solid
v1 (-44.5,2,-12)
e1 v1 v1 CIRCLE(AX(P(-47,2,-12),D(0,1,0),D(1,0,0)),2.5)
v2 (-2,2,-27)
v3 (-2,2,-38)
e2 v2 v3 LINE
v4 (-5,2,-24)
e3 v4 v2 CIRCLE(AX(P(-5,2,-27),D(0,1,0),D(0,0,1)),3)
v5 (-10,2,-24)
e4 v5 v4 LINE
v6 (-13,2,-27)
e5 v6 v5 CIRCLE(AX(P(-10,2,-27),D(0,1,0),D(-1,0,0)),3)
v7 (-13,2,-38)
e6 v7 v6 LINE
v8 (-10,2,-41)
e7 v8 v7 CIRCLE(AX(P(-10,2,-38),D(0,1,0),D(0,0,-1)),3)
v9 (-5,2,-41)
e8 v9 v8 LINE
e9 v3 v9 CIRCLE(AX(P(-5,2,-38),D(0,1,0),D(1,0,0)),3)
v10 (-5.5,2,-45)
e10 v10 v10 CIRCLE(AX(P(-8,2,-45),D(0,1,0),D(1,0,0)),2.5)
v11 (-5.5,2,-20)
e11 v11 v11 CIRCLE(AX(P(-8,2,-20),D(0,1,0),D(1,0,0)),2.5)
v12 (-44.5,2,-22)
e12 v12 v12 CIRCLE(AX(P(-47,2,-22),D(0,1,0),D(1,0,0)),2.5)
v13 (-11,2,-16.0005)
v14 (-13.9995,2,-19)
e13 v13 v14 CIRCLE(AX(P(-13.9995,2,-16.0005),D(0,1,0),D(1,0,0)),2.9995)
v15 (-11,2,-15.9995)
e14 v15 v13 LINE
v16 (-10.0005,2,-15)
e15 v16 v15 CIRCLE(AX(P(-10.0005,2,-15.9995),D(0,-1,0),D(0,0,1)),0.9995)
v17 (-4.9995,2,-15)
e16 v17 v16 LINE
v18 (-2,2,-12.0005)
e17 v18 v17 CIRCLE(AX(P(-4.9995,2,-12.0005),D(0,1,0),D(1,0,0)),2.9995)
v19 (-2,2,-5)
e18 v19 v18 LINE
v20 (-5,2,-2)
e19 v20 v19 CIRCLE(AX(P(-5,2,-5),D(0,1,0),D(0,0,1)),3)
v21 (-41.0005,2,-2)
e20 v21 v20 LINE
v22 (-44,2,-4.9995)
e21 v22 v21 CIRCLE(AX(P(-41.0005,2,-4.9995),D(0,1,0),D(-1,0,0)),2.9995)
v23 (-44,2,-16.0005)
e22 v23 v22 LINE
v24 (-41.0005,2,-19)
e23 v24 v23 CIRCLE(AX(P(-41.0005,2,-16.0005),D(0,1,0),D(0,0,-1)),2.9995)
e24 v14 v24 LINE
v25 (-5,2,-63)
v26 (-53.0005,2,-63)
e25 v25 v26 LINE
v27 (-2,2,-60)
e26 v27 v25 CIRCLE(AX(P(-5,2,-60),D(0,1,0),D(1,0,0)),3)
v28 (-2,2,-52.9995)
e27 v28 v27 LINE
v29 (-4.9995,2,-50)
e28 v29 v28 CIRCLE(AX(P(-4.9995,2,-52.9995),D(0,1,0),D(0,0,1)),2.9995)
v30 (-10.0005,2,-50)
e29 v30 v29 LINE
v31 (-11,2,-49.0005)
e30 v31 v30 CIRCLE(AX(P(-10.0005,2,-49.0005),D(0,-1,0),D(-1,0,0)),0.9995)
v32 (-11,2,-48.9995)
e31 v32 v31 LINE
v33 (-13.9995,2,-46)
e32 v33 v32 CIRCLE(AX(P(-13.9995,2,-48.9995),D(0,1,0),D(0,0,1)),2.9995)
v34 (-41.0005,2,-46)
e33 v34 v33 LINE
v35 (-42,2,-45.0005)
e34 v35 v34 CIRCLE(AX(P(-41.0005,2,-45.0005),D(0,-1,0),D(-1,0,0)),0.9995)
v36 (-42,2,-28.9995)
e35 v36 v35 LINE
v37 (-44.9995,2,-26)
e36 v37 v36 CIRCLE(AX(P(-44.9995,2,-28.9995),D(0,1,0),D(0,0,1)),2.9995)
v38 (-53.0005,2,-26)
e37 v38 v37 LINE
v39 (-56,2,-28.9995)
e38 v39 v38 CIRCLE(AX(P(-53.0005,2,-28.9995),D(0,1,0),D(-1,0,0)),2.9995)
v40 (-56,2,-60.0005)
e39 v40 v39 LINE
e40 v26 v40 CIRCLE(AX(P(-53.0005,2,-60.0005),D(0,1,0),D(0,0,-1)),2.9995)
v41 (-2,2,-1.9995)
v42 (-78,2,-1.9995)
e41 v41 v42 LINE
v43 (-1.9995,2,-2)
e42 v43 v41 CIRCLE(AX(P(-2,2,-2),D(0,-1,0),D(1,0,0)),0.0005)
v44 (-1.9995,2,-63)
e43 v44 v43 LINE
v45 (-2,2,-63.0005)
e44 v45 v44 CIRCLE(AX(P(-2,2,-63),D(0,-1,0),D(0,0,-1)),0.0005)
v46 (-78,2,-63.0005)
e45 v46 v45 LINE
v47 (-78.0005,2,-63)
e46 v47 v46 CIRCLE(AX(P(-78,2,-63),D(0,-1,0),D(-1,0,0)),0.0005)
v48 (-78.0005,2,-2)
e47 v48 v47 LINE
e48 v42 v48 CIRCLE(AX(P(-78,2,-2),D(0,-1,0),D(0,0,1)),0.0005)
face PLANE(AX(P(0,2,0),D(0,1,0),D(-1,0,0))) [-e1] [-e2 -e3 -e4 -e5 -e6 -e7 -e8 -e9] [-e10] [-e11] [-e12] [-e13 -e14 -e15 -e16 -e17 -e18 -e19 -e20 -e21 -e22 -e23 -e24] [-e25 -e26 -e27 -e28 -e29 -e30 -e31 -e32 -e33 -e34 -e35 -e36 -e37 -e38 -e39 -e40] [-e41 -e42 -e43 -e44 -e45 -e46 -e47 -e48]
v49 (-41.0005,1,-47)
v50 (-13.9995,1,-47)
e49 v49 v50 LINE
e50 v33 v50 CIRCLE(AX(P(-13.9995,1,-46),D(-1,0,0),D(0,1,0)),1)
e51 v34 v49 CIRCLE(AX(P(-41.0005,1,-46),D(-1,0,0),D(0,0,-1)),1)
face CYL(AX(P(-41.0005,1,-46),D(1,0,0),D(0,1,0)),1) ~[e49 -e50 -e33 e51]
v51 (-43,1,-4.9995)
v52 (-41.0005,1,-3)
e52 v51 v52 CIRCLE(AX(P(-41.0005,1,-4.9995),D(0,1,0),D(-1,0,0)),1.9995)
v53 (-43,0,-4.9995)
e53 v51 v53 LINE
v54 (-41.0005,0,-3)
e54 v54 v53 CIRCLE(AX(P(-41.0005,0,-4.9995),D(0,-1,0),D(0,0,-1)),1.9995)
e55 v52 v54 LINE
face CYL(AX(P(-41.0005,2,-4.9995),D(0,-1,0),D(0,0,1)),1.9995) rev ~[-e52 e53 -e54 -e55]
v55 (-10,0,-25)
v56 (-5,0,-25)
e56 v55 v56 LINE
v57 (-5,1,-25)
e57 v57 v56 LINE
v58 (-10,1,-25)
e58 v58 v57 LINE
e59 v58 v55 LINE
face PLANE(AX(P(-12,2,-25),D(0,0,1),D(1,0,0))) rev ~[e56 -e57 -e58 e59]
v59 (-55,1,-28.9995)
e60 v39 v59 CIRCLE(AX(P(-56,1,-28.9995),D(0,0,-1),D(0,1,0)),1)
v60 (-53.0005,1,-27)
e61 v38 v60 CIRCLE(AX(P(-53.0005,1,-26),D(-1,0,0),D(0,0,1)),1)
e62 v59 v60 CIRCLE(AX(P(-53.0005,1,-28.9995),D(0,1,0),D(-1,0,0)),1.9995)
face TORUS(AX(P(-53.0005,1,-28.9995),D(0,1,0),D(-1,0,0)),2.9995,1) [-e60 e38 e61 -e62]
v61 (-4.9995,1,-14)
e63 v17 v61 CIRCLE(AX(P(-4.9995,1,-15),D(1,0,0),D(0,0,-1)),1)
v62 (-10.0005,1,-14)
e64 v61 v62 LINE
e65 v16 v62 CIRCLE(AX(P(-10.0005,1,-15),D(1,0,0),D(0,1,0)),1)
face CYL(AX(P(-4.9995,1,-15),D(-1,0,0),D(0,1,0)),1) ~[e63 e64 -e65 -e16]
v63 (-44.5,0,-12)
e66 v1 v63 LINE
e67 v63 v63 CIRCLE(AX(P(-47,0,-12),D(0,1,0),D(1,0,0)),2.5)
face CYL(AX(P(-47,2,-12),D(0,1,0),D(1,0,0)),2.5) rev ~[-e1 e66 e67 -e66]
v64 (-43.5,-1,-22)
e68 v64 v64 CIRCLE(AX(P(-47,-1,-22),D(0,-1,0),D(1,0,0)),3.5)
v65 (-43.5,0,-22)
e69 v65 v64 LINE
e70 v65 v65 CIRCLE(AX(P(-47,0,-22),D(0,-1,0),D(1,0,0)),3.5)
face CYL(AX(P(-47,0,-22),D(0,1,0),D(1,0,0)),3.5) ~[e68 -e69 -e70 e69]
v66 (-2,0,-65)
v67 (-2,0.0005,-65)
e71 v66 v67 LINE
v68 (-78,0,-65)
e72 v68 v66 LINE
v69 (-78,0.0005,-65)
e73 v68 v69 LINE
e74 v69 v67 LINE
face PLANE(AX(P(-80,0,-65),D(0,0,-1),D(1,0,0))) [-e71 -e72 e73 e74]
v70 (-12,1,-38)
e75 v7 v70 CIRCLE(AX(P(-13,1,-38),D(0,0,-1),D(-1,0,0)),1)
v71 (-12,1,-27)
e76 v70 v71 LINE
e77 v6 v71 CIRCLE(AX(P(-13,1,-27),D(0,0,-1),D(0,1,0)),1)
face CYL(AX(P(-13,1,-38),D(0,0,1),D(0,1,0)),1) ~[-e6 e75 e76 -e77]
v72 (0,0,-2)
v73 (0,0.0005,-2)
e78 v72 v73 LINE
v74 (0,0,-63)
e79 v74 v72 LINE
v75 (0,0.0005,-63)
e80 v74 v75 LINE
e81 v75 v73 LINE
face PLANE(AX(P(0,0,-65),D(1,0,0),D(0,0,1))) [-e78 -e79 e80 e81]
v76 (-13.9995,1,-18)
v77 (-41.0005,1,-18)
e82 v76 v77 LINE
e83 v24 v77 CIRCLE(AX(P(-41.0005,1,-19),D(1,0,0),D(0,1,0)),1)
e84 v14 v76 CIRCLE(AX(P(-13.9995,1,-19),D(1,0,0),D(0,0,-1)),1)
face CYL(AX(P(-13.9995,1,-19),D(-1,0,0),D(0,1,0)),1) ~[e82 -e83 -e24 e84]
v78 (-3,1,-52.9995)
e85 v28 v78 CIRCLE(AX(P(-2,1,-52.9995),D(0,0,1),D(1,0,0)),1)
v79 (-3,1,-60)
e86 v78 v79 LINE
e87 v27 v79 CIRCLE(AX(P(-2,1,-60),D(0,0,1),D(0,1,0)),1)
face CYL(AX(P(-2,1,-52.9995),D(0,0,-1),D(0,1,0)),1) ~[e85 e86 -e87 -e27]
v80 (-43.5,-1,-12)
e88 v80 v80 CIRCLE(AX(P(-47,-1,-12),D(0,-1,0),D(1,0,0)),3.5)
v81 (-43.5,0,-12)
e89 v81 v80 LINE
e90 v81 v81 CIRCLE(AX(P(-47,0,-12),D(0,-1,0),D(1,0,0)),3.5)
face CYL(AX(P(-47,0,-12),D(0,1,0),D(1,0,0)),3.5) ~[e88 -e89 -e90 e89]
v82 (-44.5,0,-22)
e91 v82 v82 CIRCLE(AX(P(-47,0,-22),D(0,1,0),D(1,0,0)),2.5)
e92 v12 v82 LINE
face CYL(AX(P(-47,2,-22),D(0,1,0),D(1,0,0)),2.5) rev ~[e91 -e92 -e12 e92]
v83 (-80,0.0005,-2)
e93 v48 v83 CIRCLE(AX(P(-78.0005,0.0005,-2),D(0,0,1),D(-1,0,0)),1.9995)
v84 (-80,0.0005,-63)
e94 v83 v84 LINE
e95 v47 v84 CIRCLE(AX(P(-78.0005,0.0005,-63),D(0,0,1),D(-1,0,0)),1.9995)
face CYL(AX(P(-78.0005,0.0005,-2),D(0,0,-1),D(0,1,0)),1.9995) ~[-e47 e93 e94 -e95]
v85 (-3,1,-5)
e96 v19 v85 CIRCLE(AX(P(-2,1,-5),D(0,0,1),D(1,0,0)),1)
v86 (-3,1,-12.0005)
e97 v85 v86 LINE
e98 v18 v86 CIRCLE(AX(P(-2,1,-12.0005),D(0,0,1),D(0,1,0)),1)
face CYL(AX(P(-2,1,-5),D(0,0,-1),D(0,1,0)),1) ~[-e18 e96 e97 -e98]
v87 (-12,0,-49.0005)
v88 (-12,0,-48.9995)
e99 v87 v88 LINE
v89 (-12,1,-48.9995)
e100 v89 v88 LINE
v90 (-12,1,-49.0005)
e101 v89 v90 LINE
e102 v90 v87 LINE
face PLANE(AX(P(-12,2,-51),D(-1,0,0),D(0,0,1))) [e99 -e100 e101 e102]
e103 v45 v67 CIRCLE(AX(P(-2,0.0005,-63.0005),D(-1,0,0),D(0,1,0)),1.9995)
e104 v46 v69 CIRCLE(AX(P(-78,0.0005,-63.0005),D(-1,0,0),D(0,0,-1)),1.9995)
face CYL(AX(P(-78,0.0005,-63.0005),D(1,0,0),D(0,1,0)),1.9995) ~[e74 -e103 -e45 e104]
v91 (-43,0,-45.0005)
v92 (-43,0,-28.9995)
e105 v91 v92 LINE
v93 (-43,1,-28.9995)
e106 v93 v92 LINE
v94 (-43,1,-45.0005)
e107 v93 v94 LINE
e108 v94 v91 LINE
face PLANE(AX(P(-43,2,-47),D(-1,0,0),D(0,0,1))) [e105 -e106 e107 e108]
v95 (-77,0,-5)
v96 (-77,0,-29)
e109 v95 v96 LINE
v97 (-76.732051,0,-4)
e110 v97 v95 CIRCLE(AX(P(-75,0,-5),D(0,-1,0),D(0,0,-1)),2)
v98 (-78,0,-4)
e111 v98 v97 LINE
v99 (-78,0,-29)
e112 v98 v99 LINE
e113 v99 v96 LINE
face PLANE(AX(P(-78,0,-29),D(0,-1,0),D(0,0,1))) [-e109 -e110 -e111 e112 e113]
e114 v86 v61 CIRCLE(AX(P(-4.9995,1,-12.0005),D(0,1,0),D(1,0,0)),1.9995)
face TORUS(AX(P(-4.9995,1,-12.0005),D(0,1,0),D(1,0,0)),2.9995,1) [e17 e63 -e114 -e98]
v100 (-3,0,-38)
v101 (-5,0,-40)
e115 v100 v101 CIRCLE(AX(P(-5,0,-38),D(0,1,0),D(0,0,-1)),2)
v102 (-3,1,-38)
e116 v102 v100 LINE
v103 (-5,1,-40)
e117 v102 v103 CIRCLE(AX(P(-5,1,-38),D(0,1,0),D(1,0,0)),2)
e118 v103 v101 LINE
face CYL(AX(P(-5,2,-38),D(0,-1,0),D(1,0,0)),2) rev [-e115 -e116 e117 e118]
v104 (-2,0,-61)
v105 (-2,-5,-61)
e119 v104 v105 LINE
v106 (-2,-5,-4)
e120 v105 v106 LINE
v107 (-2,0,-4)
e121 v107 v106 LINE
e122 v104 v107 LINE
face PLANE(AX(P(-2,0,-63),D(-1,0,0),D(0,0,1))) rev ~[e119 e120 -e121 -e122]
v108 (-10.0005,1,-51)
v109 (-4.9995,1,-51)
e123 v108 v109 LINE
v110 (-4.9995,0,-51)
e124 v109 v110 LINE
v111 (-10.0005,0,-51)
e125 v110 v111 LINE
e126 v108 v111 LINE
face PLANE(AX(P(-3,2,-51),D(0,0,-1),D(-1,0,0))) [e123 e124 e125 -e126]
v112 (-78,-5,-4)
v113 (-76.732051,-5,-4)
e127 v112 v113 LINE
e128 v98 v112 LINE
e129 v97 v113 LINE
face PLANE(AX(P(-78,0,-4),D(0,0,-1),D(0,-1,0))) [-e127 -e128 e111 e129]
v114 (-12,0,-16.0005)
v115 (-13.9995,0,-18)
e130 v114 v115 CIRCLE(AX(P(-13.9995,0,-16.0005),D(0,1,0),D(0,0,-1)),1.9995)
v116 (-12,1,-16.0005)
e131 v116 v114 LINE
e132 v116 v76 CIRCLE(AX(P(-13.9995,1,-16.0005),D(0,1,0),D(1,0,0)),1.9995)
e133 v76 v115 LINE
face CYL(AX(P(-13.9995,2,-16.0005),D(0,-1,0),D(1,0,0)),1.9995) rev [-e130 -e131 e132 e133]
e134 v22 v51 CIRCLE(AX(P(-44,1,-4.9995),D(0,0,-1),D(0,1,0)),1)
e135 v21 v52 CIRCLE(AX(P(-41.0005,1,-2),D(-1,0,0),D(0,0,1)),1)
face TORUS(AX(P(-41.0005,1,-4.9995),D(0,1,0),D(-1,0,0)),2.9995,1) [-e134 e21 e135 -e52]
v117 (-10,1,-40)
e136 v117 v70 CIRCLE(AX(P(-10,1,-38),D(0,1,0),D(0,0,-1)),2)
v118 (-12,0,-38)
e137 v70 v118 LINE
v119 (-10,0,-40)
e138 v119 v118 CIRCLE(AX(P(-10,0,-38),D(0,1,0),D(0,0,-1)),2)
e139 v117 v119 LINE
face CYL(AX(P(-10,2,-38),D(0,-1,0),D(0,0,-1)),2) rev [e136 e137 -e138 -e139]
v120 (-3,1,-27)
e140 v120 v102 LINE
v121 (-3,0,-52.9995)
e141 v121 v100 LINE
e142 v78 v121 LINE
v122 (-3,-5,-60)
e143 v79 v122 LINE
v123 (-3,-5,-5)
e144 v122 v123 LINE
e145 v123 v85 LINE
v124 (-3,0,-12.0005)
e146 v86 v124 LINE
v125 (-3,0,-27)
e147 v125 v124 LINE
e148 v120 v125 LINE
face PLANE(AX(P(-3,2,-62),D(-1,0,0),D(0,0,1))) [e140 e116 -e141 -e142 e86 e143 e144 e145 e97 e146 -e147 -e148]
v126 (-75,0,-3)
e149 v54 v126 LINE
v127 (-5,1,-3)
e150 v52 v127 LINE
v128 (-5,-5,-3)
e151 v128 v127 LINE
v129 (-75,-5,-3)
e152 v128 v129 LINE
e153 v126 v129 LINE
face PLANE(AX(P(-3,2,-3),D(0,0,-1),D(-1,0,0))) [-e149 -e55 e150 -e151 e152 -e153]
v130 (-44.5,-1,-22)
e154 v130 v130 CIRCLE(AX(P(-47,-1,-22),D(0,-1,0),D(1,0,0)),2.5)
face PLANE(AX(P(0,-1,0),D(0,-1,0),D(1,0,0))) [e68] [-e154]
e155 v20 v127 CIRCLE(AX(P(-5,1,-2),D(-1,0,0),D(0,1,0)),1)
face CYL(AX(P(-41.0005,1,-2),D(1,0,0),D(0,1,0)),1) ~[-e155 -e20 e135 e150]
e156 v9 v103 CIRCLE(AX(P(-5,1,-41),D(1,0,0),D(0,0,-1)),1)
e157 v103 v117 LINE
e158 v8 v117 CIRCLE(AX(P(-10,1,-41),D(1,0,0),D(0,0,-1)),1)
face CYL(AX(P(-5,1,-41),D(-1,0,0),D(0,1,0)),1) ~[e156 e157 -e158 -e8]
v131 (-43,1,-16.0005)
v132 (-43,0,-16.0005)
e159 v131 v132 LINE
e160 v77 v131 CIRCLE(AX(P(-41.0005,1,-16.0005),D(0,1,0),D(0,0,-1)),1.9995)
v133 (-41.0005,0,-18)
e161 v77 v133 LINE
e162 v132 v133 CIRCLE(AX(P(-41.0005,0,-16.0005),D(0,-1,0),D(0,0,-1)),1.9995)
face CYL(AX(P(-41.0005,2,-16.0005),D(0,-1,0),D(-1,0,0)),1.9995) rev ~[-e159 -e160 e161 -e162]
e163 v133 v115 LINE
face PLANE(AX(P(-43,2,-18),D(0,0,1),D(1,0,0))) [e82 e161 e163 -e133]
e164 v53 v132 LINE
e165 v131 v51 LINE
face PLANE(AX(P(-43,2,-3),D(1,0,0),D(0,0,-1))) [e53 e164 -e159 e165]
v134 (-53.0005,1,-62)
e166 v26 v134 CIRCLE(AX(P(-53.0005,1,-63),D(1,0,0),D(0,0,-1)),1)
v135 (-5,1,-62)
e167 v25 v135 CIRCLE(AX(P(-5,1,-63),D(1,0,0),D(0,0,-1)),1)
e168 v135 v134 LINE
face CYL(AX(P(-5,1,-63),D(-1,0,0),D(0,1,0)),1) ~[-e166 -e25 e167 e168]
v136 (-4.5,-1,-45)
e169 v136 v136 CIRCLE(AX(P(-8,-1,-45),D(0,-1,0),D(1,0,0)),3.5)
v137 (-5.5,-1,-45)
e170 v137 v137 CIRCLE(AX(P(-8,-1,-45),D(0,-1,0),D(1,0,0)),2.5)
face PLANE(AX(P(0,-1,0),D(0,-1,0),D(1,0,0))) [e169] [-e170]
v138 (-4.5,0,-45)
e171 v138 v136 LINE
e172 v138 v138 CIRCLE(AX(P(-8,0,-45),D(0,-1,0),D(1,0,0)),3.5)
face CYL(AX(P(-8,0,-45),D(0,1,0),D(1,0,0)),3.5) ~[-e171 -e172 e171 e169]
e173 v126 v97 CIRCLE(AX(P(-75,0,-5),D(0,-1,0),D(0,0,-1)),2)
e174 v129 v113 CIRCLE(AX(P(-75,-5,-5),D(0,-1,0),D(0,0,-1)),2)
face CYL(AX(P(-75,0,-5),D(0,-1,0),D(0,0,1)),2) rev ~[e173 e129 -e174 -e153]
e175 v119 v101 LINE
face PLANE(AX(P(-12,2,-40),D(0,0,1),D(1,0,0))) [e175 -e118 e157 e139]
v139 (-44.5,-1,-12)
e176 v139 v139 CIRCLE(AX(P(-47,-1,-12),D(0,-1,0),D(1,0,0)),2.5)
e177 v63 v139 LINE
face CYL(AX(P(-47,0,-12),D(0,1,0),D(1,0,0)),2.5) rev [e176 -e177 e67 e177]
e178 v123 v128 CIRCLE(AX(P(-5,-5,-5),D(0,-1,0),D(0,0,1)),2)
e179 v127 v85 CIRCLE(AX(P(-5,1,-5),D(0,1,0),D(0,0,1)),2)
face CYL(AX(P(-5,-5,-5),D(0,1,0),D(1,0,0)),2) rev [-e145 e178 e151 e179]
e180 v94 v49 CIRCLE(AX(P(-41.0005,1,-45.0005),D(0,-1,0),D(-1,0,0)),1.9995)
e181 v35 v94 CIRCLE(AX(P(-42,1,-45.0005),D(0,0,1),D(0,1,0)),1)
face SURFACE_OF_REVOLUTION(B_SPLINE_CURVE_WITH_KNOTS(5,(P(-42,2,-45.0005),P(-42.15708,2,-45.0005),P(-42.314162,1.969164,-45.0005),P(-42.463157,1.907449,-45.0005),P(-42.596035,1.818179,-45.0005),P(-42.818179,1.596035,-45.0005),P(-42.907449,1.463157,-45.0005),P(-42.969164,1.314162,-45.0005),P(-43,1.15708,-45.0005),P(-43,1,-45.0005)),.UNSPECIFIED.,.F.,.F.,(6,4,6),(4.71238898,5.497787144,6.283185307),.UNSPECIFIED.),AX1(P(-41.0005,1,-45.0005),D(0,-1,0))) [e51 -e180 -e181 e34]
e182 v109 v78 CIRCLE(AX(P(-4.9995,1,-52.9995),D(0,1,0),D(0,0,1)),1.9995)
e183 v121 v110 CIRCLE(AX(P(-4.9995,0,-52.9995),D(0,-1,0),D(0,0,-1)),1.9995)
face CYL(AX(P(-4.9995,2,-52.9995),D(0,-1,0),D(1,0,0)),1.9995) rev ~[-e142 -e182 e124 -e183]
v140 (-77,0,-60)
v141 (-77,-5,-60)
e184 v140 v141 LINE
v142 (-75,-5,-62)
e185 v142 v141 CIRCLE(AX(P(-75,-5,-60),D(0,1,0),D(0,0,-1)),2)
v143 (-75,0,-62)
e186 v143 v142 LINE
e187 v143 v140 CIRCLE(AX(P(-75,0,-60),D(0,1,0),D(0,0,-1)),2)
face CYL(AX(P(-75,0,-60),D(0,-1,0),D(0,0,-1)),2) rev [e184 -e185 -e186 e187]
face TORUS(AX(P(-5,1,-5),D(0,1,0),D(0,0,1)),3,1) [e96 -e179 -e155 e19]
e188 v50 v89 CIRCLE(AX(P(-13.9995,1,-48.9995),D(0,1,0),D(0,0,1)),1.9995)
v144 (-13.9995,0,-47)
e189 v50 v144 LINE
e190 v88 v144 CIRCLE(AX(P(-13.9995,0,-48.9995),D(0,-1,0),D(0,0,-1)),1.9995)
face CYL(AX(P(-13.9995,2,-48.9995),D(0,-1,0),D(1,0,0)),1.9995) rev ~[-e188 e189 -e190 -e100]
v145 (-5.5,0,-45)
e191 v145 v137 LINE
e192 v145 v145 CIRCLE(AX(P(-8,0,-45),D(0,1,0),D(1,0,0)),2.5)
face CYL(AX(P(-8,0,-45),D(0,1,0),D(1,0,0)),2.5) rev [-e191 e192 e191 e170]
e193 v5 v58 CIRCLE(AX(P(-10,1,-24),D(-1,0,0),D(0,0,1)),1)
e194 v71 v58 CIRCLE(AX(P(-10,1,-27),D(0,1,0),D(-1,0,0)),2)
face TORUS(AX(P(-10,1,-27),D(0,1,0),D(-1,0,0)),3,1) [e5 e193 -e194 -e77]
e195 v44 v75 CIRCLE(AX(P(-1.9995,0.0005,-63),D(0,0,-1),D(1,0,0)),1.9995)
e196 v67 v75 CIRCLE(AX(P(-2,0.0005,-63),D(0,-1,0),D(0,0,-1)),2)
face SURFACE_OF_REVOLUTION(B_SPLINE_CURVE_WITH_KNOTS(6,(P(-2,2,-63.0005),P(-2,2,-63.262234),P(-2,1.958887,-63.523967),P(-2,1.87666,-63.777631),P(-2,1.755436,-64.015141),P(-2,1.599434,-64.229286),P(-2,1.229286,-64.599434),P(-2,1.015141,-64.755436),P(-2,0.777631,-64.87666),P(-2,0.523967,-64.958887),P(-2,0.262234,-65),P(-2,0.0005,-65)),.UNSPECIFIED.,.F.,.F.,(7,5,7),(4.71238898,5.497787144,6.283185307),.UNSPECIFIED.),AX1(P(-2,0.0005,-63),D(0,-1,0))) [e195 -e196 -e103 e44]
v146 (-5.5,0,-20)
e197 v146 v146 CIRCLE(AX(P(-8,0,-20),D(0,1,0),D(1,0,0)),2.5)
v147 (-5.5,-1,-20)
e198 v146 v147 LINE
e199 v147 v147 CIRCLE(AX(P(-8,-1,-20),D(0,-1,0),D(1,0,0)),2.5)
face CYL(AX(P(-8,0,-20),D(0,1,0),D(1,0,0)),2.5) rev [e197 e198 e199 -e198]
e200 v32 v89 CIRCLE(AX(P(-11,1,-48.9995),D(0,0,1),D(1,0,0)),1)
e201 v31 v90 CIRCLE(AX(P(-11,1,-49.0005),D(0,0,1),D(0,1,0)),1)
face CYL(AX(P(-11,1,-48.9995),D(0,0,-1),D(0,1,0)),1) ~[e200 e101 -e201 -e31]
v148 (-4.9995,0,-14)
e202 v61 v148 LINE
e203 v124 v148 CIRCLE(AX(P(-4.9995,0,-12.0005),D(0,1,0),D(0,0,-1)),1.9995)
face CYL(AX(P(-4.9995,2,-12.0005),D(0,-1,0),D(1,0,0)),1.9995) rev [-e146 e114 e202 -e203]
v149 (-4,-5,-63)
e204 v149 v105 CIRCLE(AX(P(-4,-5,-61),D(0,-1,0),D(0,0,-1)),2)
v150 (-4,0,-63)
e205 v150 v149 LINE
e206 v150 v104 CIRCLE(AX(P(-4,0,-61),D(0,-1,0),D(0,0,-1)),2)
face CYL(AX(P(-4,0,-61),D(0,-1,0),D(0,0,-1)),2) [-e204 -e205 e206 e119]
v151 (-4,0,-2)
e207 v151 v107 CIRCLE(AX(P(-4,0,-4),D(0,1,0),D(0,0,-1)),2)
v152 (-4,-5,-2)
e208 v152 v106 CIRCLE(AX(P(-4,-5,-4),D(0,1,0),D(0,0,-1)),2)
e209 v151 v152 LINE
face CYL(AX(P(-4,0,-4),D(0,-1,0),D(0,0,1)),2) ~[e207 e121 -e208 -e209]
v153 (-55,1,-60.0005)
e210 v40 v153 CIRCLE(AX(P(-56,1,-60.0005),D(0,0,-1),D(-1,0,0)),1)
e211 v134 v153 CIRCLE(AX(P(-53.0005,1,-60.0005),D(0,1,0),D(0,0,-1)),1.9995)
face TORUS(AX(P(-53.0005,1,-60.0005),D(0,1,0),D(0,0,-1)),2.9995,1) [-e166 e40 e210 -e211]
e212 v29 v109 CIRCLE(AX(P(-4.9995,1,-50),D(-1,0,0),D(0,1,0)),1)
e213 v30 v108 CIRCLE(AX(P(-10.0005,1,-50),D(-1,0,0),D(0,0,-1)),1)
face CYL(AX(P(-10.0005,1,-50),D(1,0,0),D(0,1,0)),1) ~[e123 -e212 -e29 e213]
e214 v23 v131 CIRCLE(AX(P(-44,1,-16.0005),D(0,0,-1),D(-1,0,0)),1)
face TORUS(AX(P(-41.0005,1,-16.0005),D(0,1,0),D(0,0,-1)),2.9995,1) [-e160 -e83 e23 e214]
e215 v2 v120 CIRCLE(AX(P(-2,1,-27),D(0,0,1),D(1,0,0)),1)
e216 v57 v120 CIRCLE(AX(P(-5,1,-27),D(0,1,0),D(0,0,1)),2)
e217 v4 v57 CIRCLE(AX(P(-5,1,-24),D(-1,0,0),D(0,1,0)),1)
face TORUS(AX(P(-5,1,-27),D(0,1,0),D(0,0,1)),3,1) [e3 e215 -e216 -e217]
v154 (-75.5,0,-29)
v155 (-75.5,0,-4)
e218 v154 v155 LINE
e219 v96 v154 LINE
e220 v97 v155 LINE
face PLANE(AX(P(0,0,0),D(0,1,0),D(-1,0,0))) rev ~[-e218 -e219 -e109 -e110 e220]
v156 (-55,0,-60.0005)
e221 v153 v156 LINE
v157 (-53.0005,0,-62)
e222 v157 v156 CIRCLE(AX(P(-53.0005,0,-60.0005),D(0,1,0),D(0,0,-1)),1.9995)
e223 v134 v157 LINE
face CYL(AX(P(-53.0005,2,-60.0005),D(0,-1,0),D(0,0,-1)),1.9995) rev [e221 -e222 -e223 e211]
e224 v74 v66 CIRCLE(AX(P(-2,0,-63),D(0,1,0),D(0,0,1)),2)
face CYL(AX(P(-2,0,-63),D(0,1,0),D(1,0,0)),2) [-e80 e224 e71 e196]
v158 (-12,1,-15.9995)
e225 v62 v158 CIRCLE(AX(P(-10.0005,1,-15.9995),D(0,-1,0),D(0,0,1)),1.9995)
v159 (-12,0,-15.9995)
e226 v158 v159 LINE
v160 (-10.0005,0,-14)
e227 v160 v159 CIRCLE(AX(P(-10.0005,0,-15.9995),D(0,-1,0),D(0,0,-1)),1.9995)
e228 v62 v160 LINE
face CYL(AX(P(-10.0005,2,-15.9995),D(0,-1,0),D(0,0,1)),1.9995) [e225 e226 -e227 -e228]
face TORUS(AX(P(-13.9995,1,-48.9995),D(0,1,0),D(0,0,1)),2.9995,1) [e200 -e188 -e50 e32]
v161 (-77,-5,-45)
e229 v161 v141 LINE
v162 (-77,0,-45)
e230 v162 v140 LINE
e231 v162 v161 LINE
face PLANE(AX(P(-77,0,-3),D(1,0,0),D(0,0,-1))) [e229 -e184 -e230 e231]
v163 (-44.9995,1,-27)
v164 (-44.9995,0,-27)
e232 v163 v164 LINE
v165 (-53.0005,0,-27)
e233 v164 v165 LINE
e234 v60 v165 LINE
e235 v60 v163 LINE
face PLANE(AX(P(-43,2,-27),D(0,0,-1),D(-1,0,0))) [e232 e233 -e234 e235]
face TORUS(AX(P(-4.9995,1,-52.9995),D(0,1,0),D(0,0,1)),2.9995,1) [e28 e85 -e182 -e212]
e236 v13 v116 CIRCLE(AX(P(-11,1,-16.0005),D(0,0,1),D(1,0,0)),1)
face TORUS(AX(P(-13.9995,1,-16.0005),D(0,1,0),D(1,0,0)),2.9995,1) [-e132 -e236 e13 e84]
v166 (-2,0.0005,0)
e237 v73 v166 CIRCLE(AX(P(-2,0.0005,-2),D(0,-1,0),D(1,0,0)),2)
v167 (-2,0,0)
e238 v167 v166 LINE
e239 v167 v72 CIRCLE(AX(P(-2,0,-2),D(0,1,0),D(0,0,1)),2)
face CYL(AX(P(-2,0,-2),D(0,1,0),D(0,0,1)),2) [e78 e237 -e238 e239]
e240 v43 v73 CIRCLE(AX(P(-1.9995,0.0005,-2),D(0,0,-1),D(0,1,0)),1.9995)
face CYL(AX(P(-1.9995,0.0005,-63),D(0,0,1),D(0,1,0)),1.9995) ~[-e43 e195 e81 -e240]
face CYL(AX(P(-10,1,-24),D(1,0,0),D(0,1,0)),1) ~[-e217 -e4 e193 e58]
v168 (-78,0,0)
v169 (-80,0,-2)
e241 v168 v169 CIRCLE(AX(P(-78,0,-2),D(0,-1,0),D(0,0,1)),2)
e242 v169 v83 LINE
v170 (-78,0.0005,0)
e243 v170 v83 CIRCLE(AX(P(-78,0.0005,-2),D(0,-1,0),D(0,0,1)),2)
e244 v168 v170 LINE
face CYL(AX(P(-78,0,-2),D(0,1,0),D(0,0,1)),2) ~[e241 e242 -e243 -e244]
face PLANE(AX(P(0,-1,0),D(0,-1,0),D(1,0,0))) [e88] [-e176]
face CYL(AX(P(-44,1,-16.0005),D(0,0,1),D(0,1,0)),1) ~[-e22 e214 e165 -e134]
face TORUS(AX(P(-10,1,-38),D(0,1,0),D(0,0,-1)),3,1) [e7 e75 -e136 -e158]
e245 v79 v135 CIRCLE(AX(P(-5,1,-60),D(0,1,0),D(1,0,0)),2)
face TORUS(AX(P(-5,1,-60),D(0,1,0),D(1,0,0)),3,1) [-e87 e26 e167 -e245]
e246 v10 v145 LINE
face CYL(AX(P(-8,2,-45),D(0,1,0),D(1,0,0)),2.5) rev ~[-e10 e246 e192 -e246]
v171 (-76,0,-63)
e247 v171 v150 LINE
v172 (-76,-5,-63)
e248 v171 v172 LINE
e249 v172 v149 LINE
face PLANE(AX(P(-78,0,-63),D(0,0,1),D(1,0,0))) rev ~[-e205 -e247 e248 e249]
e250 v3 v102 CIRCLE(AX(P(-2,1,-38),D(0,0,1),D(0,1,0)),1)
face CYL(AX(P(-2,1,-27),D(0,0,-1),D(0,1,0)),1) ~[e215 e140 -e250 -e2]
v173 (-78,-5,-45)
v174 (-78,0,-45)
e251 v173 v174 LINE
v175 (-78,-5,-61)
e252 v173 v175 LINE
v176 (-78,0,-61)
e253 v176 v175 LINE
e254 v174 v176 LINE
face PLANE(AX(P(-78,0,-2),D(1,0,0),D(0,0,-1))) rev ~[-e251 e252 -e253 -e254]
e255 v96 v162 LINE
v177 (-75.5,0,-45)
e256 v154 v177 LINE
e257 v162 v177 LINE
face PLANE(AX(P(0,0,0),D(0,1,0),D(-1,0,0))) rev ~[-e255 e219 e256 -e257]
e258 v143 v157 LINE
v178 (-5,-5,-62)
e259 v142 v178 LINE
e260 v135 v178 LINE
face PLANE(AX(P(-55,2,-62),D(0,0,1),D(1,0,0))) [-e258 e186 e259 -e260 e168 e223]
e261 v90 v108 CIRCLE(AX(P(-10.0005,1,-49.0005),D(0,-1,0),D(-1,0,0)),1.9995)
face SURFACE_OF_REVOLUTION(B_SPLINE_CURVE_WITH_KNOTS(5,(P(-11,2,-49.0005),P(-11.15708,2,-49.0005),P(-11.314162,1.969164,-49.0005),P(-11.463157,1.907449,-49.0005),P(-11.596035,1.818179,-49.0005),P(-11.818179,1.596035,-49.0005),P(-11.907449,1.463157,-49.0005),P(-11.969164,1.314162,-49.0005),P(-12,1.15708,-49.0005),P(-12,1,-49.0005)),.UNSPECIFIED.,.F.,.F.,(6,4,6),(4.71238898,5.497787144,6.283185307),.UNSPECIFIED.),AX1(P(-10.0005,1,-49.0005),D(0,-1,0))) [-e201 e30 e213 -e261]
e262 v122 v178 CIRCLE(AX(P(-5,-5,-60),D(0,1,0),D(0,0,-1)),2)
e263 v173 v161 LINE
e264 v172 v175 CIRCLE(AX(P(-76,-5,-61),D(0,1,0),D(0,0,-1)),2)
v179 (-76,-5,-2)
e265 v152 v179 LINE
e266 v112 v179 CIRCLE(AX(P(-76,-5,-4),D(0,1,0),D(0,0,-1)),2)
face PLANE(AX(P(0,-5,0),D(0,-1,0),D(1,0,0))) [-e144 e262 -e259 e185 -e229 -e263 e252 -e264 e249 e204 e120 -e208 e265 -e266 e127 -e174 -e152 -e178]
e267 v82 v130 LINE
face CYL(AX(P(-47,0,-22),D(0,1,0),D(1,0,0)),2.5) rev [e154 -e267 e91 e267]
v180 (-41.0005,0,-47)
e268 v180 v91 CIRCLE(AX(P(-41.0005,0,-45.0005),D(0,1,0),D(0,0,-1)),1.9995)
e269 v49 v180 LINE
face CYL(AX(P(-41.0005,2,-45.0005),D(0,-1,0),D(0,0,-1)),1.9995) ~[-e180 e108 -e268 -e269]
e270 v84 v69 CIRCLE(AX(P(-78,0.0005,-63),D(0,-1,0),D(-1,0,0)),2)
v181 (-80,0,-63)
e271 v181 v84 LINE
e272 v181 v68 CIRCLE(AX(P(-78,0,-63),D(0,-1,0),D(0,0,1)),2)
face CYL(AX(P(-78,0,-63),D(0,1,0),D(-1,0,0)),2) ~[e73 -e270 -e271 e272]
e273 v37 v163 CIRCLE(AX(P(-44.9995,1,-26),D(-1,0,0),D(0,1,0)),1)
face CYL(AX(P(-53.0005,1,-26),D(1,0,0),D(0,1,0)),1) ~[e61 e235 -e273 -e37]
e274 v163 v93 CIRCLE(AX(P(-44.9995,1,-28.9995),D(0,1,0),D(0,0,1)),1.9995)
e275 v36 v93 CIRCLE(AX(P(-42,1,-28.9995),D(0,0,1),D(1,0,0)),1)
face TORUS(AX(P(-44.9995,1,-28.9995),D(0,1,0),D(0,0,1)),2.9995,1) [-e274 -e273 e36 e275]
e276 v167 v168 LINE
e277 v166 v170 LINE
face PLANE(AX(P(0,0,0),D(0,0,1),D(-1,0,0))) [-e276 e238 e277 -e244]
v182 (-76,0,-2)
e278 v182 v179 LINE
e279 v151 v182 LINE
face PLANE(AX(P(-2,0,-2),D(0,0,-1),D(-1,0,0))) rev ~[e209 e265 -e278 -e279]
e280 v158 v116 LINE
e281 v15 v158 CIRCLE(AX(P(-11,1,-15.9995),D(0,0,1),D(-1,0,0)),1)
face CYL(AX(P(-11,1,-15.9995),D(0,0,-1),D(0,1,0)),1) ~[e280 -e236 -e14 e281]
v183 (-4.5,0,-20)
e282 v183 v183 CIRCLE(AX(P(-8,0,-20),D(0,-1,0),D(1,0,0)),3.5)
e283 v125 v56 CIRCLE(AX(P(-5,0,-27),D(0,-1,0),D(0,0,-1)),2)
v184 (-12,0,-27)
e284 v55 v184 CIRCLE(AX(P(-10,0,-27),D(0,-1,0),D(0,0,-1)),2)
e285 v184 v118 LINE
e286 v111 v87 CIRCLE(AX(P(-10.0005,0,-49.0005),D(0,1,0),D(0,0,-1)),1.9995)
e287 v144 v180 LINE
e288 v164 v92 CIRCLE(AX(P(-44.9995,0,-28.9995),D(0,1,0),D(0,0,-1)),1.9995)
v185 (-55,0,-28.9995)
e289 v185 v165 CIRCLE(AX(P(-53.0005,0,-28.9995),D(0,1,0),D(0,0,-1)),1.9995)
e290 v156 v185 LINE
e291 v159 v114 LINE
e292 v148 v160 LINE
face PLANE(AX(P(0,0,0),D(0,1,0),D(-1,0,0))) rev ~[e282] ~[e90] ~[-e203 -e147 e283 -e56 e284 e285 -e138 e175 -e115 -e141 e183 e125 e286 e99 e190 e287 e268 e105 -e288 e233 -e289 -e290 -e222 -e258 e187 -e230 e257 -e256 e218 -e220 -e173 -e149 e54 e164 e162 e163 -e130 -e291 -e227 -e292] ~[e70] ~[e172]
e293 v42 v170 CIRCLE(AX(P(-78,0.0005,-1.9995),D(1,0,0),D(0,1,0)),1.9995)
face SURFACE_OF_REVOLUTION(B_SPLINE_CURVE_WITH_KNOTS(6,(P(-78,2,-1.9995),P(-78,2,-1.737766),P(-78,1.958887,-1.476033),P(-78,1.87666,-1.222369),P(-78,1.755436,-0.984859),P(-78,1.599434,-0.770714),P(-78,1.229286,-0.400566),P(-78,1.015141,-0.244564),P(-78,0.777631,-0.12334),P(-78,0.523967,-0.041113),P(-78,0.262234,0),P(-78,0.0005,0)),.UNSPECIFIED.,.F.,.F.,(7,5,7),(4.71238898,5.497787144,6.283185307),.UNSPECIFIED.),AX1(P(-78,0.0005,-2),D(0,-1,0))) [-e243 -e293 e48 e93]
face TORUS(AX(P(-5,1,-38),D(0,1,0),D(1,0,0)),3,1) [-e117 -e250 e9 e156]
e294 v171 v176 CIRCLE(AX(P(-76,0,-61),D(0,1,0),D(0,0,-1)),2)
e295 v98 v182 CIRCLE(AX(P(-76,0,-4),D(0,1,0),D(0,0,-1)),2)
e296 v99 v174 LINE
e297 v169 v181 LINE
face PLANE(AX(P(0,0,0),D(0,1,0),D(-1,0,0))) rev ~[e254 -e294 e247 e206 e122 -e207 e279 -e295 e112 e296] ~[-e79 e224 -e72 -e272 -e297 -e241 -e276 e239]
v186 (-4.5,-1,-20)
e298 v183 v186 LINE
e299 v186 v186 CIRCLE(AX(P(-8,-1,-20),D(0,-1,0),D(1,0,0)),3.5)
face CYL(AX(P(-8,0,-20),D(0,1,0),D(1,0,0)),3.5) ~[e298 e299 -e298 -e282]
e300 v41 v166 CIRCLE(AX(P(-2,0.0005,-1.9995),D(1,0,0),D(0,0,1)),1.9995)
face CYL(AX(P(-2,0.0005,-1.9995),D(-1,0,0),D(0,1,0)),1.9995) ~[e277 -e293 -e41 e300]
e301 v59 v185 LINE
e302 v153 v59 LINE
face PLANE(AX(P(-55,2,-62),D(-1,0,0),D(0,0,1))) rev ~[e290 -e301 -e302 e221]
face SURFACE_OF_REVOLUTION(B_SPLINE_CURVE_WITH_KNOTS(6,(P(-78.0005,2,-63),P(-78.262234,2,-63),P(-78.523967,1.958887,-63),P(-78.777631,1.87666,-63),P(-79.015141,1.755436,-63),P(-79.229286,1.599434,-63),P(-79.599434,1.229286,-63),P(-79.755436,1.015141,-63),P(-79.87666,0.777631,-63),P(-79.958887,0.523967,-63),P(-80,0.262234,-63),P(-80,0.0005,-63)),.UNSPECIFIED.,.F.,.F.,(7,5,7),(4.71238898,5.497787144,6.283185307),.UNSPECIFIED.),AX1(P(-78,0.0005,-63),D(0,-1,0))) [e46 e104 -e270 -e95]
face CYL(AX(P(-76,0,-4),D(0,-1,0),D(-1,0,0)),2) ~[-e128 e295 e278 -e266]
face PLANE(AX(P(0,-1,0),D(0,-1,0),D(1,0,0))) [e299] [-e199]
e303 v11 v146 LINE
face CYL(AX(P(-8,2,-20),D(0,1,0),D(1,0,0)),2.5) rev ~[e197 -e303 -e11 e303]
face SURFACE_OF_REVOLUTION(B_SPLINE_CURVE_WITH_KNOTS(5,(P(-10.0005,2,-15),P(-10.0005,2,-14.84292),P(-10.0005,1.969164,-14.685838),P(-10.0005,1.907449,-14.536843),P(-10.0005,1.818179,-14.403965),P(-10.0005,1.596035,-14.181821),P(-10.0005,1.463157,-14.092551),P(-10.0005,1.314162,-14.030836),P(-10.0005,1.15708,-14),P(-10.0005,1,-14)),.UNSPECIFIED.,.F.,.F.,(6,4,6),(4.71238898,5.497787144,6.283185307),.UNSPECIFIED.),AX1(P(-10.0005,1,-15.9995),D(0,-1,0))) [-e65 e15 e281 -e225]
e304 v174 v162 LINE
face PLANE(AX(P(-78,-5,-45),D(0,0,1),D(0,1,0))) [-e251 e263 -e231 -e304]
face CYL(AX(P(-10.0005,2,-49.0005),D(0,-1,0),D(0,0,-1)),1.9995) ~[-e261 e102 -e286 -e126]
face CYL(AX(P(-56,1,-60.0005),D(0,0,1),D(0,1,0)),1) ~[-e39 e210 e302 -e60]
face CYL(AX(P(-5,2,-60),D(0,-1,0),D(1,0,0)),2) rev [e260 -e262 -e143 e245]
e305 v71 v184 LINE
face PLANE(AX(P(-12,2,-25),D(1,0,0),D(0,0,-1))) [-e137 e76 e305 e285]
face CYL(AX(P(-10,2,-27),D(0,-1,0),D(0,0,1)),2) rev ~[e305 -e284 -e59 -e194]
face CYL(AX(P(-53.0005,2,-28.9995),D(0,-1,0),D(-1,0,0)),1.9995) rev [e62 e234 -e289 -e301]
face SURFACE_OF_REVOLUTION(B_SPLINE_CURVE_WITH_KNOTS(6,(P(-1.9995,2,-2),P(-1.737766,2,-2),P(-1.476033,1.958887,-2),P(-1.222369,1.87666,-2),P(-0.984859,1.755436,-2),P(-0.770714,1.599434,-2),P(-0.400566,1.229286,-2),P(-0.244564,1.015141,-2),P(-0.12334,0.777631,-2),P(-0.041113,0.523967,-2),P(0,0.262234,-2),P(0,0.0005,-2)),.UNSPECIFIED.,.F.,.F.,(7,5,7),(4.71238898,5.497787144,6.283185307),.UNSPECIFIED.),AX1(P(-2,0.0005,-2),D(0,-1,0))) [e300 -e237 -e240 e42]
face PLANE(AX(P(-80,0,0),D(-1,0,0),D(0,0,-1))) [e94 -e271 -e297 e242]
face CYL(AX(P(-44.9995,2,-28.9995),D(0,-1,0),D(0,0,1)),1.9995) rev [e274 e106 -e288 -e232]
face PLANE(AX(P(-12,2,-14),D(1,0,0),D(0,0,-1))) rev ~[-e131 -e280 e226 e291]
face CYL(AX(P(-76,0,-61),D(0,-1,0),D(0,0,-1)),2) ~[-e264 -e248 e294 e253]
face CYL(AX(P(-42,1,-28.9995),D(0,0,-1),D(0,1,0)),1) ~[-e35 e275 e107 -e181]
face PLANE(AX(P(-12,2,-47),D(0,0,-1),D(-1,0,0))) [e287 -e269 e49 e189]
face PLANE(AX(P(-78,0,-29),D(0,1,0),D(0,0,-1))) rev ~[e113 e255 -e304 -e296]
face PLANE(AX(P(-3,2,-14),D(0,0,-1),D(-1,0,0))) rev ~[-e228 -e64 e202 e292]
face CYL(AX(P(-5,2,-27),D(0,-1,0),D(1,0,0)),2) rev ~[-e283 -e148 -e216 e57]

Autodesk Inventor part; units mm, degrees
ref_plane "YZ Plane" through (0, 0, 0) normal (1, 0, 0) x (0, 1, 0)
ref_plane "XZ Plane" through (0, 0, 0) normal (0, 1, 0) x (-1, 0, 0)
ref_plane "XY Plane" through (0, 0, 0) normal (0, 0, 1) x (1, 0, 0)
sketch "Sketch1" plane through (0, 0, 0) normal (0, 1, 0) x (-1, 0, 0)
  line L0 (0, 0) -> (80, 0)
  line L1 (80, 0) -> (80, -65)
  line L2 (80, -65) -> (0, -65)
  line L3 (0, -65) -> (0, 0)
  dimension "d0" = 65
  dimension "d1" = 80
extrude "Grunnflate" add sketch "Sketch1" along normal blind 2
sketch "Sketch2" plane through (0, 0, 0) normal (0, -1, 0) x (1, 0, 0)
  line L0 (-2, -2) -> (-78, -2)
  line L1 (-78, -2) -> (-78, -63)
  line L2 (-78, -63) -> (-2, -63)
  line L3 (-2, -63) -> (-2, -2)
  line L4 (0, -65) -> (-80, -65) projected
  line L5 (-80, -65) -> (-80, 0) projected
  line L6 (-80, 0) -> (0, 0) projected
  line L7 (0, 0) -> (0, -65) projected
  line L8 (-3, -3) -> (-77, -3)
  line L9 (-77, -3) -> (-77, -62)
  line L10 (-77, -62) -> (-3, -62)
  line L11 (-3, -62) -> (-3, -3)
  dimension "d4" = 2
  dimension "d5" = 2
  dimension "d6" = 2
  dimension "d7" = 2
  dimension "d8" = 1
  dimension "d9" = 1
  dimension "d10" = 1
  dimension "d11" = 1
extrude "Vegger" add sketch "Sketch2" along normal blind 5 contours L3 L2 L1 L0
sketch "Sketch3" plane through (0, 2, 0) normal (0, 1, 0) x (1, 0, 0)
  line L0 (-3, 3) -> (-77, 3)
  line L1 (-77, 3) -> (-77, 62)
  line L2 (-77, 62) -> (-3, 62)
  line L3 (-3, 62) -> (-3, 3)
  line L4 (-80, 65) -> (-80, 0) projected
  line L5 (0, 65) -> (-80, 65) projected
  line L6 (0, 0) -> (0, 65) projected
  line L7 (-80, 0) -> (0, 0) projected
  line L8 (-55, 3) -> (-3, 3)
  line L9 (-3, 3) -> (-3, 62)
  line L10 (-3, 62) -> (-55, 62)
  line L11 (-55, 62) -> (-55, 3)
  line L12 (-55, 3) -> (-43, 3)
  line L13 (-43, 3) -> (-43, 27)
  line L14 (-43, 27) -> (-55, 27)
  line L15 (-55, 27) -> (-55, 3)
  line L16 (-43, 18) -> (-12, 18)
  line L17 (-12, 18) -> (-12, 47)
  line L18 (-12, 47) -> (-43, 47)
  line L19 (-43, 47) -> (-43, 18)
  line L20 (-12, 25) -> (-3, 25)
  line L21 (-3, 25) -> (-3, 14)
  line L22 (-3, 14) -> (-12, 14)
  line L23 (-12, 14) -> (-12, 25)
  line L24 (-12, 40) -> (-3, 40)
  line L25 (-3, 40) -> (-3, 51)
  line L26 (-3, 51) -> (-12, 51)
  line L27 (-12, 51) -> (-12, 40)
  point P0 (-12, 18)
  point P1 (-3, 40)
  point P2 (-3, 25)
  dimension "d14" = 3
  dimension "d15" = 3
  dimension "d16" = 3
  dimension "d17" = 3
  dimension "d18" = 52
  dimension "d19" = 0
  dimension "d20" = 0
  dimension "d21" = 0
  dimension "d22" = 34
  dimension "d23" = 0
  dimension "d24" = 24
  dimension "d25" = 0
  dimension "d26" = 15
  dimension "d27" = 15
  dimension "d28" = 9
  dimension "d29" = 0
  dimension "d30" = 0
  dimension "d31" = 22
  dimension "d32" = 11
  dimension "d33" = 0
  dimension "d34" = 22
  dimension "d35" = 11
extrude "Hull" cut sketch "Sketch3" against normal blind 2 contours L0 L13 L16 L23 L22 L3 | L20 L17 L24 L3 | L11 L2 L3 L26 L27 L18 L19 L14
fillet "Fillet1" radius 2 8 edges at (-2, -2.5, -2) (-78, -2.5, -2) (-2, -2.5, -63) (-78, -2.5, -63) (-3, -1.5, -62) (-3, -1.5, -3) (-77, -2.5, -62) (-77, -2.5, -3)
fillet "Fillet2" radius 2 4 edges at (-80, 1, 0) (-80, 1, -65) (0, 1, -65) (0, 1, 0)
fillet "Fillet3" radius 2 5 edges at (-43, 1, -3) (-3, 1, -14) (-12, 1, -14) (-12, 1, -18) (-43, 1, -18)
fillet "Fillet4" radius 2 7 edges at (-55, 1, -62) (-3, 1, -51) (-12, 1, -51) (-12, 1, -47) (-43, 1, -47) (-43, 1, -27) (-55, 1, -27)
fillet "Fillet5" radius 2 4 edges at (-12, 1, -40) (-3, 1, -40) (-3, 1, -25) (-12, 1, -25)
fillet "Fillet6" radius 2 8 edges at (-79.4142, 2, -64.4142) (-80, 2, -32.5) (-79.4142, 2, -0.5858) (-40, 2, 0) (-0.5858, 2, -0.5858) (0, 2, -32.5) (-0.5858, 2, -64.4142) (-40, 2, -65)
fillet "Fillet7" radius 1 34 edges at (-54.4144, 2, -61.4144) (-29.0003, 2, -62) (-3.5858, 2, -61.4142) (-3, 2, -56.4997) (-3.5856, 2, -51.5856) (-7.5, 2, -51) (-11.4144, 2, -50.4144) (-12.5856, 2, -47.5856) (-27.5, 2, -47) (-42.4144, 2, -46.4144) (-43, 2, -37) (-43.5856, 2, -27.5856) (-49, 2, -27) (-54.4144, 2, -27.5856) (-55, 2, -44.5) (-11.4142, 2, -39.4142) (-7.5, 2, -40) (-3.5858, 2, -39.4142) (-3, 2, -32.5) (-3.5858, 2, -25.5858) (-7.5, 2, -25) (-11.4142, 2, -25.5858) (-12, 2, -32.5) (-12.5856, 2, -17.4144) (-11.4144, 2, -14.5856) (-7.5, 2, -14) (-3.5856, 2, -13.4144) (-3, 2, -8.5003) (-3.5858, 2, -3.5858) (-23.0002, 2, -3) (-42.4144, 2, -3.5856) (-43, 2, -10.5) (-42.4144, 2, -17.4144) (-27.5, 2, -18)
sketch "Knapper Layout" plane through (0, 2, 0) normal (0, 1, 0) x (1, 0, 0)
  line L0 (-77, 3) -> (-3, 3)
  line L1 (-3, 3) -> (-3, 62)
  line L2 (-3, 62) -> (-77, 62)
  line L3 (-77, 62) -> (-77, 3)
  line L4 (-2, 65) -> (-78, 65) projected
  line L5 (0, 2) -> (0, 63) projected
  line L6 (-78, 0) -> (-2, 0) projected
  line L7 (-80, 63) -> (-80, 2) projected
  line L8 (-11, 17) -> (-5, 17)
  line L9 (-5, 17) -> (-5, 23)
  line L10 (-5, 23) -> (-11, 23)
  line L11 (-11, 23) -> (-11, 17)
  line L12 (-11, 42) -> (-5, 42)
  line L13 (-5, 42) -> (-5, 48)
  line L14 (-5, 48) -> (-11, 48)
  line L15 (-11, 48) -> (-11, 42)
  line L16 (-50, 9) -> (-44, 9)
  line L17 (-44, 9) -> (-44, 15)
  line L18 (-44, 15) -> (-50, 15)
  line L19 (-50, 15) -> (-50, 9)
  line L20 (-50, 19) -> (-44, 19)
  line L21 (-44, 19) -> (-44, 25)
  line L22 (-44, 25) -> (-50, 25)
  line L23 (-50, 25) -> (-50, 19)
  circle A0 centre (-47, 12) radius 2.5
  circle A1 centre (-47, 22) radius 2.5
  circle A2 centre (-8, 45) radius 2.5
  circle A3 centre (-8, 20) radius 2.5
  point P0 (0, 0)
  dimension "d45" = 3
  dimension "d46" = 3
  dimension "d47" = 3
  dimension "d48" = 3
  dimension "d49" = 20
  dimension "d50" = 14
  dimension "d51" = 20
  dimension "d52" = 14
  dimension "d53" = 8
  dimension "d54" = 8
  dimension "d55" = 2
  dimension "d56" = 2
  dimension "d57" = 33
  dimension "d58" = 33
  dimension "d59" = 6
  dimension "d60" = 6
  dimension "d61" = 4
  dimension "d62" = 6
  dimension "d63" = 6
  dimension "d64" = 6
  dimension "d65" = 5
  dimension "d67" = 5
  dimension "d68" = 5
  dimension "d69" = 5
extrude "Knappehull" cut sketch "Knapper Layout" against normal blind 9.75 contours A0 | A1 | A2 | A3
sketch "Sketch6" plane through (0, 0, 0) normal (0, -1, 0) x (1, 0, 0)
  circle A0 centre (-8, -45) radius 2.5 projected
  circle A1 centre (-8, -45) radius 3.5
  circle A2 centre (-8, -20) radius 2.5 projected
  circle A3 centre (-8, -20) radius 3.5
  circle A4 centre (-47, -22) radius 2.5 projected
  circle A5 centre (-47, -22) radius 3.5
  circle A6 centre (-47, -12) radius 2.5 projected
  circle A7 centre (-47, -12) radius 3.5
  point P0 (0, 0)
  dimension "d72" = 7
  dimension "d73" = 7
  dimension "d74" = 7
  dimension "d75" = 7
extrude "Extrusion5" add sketch "Sketch6" along normal blind 1
sketch "Sketch7" plane through (-78, 0, -61) normal (-1, 0, 0) x (0, 0, 1)
  line L0 (59, -5) -> (57, -5) projected
  line L1 (32, 0) -> (16, 0) projected
  line L2 (57, -5) -> (16, -5)
  line L3 (16, -5) -> (16, 0)
  line L4 (16, 0) -> (57, 0)
  line L5 (57, 0) -> (57, -5)
  point P0 (61, 0)
  point P1 (32, 0)
extrude "Extrusion6" cut sketch "Sketch7" against normal blind 2.5
properties part number "Lokk"
